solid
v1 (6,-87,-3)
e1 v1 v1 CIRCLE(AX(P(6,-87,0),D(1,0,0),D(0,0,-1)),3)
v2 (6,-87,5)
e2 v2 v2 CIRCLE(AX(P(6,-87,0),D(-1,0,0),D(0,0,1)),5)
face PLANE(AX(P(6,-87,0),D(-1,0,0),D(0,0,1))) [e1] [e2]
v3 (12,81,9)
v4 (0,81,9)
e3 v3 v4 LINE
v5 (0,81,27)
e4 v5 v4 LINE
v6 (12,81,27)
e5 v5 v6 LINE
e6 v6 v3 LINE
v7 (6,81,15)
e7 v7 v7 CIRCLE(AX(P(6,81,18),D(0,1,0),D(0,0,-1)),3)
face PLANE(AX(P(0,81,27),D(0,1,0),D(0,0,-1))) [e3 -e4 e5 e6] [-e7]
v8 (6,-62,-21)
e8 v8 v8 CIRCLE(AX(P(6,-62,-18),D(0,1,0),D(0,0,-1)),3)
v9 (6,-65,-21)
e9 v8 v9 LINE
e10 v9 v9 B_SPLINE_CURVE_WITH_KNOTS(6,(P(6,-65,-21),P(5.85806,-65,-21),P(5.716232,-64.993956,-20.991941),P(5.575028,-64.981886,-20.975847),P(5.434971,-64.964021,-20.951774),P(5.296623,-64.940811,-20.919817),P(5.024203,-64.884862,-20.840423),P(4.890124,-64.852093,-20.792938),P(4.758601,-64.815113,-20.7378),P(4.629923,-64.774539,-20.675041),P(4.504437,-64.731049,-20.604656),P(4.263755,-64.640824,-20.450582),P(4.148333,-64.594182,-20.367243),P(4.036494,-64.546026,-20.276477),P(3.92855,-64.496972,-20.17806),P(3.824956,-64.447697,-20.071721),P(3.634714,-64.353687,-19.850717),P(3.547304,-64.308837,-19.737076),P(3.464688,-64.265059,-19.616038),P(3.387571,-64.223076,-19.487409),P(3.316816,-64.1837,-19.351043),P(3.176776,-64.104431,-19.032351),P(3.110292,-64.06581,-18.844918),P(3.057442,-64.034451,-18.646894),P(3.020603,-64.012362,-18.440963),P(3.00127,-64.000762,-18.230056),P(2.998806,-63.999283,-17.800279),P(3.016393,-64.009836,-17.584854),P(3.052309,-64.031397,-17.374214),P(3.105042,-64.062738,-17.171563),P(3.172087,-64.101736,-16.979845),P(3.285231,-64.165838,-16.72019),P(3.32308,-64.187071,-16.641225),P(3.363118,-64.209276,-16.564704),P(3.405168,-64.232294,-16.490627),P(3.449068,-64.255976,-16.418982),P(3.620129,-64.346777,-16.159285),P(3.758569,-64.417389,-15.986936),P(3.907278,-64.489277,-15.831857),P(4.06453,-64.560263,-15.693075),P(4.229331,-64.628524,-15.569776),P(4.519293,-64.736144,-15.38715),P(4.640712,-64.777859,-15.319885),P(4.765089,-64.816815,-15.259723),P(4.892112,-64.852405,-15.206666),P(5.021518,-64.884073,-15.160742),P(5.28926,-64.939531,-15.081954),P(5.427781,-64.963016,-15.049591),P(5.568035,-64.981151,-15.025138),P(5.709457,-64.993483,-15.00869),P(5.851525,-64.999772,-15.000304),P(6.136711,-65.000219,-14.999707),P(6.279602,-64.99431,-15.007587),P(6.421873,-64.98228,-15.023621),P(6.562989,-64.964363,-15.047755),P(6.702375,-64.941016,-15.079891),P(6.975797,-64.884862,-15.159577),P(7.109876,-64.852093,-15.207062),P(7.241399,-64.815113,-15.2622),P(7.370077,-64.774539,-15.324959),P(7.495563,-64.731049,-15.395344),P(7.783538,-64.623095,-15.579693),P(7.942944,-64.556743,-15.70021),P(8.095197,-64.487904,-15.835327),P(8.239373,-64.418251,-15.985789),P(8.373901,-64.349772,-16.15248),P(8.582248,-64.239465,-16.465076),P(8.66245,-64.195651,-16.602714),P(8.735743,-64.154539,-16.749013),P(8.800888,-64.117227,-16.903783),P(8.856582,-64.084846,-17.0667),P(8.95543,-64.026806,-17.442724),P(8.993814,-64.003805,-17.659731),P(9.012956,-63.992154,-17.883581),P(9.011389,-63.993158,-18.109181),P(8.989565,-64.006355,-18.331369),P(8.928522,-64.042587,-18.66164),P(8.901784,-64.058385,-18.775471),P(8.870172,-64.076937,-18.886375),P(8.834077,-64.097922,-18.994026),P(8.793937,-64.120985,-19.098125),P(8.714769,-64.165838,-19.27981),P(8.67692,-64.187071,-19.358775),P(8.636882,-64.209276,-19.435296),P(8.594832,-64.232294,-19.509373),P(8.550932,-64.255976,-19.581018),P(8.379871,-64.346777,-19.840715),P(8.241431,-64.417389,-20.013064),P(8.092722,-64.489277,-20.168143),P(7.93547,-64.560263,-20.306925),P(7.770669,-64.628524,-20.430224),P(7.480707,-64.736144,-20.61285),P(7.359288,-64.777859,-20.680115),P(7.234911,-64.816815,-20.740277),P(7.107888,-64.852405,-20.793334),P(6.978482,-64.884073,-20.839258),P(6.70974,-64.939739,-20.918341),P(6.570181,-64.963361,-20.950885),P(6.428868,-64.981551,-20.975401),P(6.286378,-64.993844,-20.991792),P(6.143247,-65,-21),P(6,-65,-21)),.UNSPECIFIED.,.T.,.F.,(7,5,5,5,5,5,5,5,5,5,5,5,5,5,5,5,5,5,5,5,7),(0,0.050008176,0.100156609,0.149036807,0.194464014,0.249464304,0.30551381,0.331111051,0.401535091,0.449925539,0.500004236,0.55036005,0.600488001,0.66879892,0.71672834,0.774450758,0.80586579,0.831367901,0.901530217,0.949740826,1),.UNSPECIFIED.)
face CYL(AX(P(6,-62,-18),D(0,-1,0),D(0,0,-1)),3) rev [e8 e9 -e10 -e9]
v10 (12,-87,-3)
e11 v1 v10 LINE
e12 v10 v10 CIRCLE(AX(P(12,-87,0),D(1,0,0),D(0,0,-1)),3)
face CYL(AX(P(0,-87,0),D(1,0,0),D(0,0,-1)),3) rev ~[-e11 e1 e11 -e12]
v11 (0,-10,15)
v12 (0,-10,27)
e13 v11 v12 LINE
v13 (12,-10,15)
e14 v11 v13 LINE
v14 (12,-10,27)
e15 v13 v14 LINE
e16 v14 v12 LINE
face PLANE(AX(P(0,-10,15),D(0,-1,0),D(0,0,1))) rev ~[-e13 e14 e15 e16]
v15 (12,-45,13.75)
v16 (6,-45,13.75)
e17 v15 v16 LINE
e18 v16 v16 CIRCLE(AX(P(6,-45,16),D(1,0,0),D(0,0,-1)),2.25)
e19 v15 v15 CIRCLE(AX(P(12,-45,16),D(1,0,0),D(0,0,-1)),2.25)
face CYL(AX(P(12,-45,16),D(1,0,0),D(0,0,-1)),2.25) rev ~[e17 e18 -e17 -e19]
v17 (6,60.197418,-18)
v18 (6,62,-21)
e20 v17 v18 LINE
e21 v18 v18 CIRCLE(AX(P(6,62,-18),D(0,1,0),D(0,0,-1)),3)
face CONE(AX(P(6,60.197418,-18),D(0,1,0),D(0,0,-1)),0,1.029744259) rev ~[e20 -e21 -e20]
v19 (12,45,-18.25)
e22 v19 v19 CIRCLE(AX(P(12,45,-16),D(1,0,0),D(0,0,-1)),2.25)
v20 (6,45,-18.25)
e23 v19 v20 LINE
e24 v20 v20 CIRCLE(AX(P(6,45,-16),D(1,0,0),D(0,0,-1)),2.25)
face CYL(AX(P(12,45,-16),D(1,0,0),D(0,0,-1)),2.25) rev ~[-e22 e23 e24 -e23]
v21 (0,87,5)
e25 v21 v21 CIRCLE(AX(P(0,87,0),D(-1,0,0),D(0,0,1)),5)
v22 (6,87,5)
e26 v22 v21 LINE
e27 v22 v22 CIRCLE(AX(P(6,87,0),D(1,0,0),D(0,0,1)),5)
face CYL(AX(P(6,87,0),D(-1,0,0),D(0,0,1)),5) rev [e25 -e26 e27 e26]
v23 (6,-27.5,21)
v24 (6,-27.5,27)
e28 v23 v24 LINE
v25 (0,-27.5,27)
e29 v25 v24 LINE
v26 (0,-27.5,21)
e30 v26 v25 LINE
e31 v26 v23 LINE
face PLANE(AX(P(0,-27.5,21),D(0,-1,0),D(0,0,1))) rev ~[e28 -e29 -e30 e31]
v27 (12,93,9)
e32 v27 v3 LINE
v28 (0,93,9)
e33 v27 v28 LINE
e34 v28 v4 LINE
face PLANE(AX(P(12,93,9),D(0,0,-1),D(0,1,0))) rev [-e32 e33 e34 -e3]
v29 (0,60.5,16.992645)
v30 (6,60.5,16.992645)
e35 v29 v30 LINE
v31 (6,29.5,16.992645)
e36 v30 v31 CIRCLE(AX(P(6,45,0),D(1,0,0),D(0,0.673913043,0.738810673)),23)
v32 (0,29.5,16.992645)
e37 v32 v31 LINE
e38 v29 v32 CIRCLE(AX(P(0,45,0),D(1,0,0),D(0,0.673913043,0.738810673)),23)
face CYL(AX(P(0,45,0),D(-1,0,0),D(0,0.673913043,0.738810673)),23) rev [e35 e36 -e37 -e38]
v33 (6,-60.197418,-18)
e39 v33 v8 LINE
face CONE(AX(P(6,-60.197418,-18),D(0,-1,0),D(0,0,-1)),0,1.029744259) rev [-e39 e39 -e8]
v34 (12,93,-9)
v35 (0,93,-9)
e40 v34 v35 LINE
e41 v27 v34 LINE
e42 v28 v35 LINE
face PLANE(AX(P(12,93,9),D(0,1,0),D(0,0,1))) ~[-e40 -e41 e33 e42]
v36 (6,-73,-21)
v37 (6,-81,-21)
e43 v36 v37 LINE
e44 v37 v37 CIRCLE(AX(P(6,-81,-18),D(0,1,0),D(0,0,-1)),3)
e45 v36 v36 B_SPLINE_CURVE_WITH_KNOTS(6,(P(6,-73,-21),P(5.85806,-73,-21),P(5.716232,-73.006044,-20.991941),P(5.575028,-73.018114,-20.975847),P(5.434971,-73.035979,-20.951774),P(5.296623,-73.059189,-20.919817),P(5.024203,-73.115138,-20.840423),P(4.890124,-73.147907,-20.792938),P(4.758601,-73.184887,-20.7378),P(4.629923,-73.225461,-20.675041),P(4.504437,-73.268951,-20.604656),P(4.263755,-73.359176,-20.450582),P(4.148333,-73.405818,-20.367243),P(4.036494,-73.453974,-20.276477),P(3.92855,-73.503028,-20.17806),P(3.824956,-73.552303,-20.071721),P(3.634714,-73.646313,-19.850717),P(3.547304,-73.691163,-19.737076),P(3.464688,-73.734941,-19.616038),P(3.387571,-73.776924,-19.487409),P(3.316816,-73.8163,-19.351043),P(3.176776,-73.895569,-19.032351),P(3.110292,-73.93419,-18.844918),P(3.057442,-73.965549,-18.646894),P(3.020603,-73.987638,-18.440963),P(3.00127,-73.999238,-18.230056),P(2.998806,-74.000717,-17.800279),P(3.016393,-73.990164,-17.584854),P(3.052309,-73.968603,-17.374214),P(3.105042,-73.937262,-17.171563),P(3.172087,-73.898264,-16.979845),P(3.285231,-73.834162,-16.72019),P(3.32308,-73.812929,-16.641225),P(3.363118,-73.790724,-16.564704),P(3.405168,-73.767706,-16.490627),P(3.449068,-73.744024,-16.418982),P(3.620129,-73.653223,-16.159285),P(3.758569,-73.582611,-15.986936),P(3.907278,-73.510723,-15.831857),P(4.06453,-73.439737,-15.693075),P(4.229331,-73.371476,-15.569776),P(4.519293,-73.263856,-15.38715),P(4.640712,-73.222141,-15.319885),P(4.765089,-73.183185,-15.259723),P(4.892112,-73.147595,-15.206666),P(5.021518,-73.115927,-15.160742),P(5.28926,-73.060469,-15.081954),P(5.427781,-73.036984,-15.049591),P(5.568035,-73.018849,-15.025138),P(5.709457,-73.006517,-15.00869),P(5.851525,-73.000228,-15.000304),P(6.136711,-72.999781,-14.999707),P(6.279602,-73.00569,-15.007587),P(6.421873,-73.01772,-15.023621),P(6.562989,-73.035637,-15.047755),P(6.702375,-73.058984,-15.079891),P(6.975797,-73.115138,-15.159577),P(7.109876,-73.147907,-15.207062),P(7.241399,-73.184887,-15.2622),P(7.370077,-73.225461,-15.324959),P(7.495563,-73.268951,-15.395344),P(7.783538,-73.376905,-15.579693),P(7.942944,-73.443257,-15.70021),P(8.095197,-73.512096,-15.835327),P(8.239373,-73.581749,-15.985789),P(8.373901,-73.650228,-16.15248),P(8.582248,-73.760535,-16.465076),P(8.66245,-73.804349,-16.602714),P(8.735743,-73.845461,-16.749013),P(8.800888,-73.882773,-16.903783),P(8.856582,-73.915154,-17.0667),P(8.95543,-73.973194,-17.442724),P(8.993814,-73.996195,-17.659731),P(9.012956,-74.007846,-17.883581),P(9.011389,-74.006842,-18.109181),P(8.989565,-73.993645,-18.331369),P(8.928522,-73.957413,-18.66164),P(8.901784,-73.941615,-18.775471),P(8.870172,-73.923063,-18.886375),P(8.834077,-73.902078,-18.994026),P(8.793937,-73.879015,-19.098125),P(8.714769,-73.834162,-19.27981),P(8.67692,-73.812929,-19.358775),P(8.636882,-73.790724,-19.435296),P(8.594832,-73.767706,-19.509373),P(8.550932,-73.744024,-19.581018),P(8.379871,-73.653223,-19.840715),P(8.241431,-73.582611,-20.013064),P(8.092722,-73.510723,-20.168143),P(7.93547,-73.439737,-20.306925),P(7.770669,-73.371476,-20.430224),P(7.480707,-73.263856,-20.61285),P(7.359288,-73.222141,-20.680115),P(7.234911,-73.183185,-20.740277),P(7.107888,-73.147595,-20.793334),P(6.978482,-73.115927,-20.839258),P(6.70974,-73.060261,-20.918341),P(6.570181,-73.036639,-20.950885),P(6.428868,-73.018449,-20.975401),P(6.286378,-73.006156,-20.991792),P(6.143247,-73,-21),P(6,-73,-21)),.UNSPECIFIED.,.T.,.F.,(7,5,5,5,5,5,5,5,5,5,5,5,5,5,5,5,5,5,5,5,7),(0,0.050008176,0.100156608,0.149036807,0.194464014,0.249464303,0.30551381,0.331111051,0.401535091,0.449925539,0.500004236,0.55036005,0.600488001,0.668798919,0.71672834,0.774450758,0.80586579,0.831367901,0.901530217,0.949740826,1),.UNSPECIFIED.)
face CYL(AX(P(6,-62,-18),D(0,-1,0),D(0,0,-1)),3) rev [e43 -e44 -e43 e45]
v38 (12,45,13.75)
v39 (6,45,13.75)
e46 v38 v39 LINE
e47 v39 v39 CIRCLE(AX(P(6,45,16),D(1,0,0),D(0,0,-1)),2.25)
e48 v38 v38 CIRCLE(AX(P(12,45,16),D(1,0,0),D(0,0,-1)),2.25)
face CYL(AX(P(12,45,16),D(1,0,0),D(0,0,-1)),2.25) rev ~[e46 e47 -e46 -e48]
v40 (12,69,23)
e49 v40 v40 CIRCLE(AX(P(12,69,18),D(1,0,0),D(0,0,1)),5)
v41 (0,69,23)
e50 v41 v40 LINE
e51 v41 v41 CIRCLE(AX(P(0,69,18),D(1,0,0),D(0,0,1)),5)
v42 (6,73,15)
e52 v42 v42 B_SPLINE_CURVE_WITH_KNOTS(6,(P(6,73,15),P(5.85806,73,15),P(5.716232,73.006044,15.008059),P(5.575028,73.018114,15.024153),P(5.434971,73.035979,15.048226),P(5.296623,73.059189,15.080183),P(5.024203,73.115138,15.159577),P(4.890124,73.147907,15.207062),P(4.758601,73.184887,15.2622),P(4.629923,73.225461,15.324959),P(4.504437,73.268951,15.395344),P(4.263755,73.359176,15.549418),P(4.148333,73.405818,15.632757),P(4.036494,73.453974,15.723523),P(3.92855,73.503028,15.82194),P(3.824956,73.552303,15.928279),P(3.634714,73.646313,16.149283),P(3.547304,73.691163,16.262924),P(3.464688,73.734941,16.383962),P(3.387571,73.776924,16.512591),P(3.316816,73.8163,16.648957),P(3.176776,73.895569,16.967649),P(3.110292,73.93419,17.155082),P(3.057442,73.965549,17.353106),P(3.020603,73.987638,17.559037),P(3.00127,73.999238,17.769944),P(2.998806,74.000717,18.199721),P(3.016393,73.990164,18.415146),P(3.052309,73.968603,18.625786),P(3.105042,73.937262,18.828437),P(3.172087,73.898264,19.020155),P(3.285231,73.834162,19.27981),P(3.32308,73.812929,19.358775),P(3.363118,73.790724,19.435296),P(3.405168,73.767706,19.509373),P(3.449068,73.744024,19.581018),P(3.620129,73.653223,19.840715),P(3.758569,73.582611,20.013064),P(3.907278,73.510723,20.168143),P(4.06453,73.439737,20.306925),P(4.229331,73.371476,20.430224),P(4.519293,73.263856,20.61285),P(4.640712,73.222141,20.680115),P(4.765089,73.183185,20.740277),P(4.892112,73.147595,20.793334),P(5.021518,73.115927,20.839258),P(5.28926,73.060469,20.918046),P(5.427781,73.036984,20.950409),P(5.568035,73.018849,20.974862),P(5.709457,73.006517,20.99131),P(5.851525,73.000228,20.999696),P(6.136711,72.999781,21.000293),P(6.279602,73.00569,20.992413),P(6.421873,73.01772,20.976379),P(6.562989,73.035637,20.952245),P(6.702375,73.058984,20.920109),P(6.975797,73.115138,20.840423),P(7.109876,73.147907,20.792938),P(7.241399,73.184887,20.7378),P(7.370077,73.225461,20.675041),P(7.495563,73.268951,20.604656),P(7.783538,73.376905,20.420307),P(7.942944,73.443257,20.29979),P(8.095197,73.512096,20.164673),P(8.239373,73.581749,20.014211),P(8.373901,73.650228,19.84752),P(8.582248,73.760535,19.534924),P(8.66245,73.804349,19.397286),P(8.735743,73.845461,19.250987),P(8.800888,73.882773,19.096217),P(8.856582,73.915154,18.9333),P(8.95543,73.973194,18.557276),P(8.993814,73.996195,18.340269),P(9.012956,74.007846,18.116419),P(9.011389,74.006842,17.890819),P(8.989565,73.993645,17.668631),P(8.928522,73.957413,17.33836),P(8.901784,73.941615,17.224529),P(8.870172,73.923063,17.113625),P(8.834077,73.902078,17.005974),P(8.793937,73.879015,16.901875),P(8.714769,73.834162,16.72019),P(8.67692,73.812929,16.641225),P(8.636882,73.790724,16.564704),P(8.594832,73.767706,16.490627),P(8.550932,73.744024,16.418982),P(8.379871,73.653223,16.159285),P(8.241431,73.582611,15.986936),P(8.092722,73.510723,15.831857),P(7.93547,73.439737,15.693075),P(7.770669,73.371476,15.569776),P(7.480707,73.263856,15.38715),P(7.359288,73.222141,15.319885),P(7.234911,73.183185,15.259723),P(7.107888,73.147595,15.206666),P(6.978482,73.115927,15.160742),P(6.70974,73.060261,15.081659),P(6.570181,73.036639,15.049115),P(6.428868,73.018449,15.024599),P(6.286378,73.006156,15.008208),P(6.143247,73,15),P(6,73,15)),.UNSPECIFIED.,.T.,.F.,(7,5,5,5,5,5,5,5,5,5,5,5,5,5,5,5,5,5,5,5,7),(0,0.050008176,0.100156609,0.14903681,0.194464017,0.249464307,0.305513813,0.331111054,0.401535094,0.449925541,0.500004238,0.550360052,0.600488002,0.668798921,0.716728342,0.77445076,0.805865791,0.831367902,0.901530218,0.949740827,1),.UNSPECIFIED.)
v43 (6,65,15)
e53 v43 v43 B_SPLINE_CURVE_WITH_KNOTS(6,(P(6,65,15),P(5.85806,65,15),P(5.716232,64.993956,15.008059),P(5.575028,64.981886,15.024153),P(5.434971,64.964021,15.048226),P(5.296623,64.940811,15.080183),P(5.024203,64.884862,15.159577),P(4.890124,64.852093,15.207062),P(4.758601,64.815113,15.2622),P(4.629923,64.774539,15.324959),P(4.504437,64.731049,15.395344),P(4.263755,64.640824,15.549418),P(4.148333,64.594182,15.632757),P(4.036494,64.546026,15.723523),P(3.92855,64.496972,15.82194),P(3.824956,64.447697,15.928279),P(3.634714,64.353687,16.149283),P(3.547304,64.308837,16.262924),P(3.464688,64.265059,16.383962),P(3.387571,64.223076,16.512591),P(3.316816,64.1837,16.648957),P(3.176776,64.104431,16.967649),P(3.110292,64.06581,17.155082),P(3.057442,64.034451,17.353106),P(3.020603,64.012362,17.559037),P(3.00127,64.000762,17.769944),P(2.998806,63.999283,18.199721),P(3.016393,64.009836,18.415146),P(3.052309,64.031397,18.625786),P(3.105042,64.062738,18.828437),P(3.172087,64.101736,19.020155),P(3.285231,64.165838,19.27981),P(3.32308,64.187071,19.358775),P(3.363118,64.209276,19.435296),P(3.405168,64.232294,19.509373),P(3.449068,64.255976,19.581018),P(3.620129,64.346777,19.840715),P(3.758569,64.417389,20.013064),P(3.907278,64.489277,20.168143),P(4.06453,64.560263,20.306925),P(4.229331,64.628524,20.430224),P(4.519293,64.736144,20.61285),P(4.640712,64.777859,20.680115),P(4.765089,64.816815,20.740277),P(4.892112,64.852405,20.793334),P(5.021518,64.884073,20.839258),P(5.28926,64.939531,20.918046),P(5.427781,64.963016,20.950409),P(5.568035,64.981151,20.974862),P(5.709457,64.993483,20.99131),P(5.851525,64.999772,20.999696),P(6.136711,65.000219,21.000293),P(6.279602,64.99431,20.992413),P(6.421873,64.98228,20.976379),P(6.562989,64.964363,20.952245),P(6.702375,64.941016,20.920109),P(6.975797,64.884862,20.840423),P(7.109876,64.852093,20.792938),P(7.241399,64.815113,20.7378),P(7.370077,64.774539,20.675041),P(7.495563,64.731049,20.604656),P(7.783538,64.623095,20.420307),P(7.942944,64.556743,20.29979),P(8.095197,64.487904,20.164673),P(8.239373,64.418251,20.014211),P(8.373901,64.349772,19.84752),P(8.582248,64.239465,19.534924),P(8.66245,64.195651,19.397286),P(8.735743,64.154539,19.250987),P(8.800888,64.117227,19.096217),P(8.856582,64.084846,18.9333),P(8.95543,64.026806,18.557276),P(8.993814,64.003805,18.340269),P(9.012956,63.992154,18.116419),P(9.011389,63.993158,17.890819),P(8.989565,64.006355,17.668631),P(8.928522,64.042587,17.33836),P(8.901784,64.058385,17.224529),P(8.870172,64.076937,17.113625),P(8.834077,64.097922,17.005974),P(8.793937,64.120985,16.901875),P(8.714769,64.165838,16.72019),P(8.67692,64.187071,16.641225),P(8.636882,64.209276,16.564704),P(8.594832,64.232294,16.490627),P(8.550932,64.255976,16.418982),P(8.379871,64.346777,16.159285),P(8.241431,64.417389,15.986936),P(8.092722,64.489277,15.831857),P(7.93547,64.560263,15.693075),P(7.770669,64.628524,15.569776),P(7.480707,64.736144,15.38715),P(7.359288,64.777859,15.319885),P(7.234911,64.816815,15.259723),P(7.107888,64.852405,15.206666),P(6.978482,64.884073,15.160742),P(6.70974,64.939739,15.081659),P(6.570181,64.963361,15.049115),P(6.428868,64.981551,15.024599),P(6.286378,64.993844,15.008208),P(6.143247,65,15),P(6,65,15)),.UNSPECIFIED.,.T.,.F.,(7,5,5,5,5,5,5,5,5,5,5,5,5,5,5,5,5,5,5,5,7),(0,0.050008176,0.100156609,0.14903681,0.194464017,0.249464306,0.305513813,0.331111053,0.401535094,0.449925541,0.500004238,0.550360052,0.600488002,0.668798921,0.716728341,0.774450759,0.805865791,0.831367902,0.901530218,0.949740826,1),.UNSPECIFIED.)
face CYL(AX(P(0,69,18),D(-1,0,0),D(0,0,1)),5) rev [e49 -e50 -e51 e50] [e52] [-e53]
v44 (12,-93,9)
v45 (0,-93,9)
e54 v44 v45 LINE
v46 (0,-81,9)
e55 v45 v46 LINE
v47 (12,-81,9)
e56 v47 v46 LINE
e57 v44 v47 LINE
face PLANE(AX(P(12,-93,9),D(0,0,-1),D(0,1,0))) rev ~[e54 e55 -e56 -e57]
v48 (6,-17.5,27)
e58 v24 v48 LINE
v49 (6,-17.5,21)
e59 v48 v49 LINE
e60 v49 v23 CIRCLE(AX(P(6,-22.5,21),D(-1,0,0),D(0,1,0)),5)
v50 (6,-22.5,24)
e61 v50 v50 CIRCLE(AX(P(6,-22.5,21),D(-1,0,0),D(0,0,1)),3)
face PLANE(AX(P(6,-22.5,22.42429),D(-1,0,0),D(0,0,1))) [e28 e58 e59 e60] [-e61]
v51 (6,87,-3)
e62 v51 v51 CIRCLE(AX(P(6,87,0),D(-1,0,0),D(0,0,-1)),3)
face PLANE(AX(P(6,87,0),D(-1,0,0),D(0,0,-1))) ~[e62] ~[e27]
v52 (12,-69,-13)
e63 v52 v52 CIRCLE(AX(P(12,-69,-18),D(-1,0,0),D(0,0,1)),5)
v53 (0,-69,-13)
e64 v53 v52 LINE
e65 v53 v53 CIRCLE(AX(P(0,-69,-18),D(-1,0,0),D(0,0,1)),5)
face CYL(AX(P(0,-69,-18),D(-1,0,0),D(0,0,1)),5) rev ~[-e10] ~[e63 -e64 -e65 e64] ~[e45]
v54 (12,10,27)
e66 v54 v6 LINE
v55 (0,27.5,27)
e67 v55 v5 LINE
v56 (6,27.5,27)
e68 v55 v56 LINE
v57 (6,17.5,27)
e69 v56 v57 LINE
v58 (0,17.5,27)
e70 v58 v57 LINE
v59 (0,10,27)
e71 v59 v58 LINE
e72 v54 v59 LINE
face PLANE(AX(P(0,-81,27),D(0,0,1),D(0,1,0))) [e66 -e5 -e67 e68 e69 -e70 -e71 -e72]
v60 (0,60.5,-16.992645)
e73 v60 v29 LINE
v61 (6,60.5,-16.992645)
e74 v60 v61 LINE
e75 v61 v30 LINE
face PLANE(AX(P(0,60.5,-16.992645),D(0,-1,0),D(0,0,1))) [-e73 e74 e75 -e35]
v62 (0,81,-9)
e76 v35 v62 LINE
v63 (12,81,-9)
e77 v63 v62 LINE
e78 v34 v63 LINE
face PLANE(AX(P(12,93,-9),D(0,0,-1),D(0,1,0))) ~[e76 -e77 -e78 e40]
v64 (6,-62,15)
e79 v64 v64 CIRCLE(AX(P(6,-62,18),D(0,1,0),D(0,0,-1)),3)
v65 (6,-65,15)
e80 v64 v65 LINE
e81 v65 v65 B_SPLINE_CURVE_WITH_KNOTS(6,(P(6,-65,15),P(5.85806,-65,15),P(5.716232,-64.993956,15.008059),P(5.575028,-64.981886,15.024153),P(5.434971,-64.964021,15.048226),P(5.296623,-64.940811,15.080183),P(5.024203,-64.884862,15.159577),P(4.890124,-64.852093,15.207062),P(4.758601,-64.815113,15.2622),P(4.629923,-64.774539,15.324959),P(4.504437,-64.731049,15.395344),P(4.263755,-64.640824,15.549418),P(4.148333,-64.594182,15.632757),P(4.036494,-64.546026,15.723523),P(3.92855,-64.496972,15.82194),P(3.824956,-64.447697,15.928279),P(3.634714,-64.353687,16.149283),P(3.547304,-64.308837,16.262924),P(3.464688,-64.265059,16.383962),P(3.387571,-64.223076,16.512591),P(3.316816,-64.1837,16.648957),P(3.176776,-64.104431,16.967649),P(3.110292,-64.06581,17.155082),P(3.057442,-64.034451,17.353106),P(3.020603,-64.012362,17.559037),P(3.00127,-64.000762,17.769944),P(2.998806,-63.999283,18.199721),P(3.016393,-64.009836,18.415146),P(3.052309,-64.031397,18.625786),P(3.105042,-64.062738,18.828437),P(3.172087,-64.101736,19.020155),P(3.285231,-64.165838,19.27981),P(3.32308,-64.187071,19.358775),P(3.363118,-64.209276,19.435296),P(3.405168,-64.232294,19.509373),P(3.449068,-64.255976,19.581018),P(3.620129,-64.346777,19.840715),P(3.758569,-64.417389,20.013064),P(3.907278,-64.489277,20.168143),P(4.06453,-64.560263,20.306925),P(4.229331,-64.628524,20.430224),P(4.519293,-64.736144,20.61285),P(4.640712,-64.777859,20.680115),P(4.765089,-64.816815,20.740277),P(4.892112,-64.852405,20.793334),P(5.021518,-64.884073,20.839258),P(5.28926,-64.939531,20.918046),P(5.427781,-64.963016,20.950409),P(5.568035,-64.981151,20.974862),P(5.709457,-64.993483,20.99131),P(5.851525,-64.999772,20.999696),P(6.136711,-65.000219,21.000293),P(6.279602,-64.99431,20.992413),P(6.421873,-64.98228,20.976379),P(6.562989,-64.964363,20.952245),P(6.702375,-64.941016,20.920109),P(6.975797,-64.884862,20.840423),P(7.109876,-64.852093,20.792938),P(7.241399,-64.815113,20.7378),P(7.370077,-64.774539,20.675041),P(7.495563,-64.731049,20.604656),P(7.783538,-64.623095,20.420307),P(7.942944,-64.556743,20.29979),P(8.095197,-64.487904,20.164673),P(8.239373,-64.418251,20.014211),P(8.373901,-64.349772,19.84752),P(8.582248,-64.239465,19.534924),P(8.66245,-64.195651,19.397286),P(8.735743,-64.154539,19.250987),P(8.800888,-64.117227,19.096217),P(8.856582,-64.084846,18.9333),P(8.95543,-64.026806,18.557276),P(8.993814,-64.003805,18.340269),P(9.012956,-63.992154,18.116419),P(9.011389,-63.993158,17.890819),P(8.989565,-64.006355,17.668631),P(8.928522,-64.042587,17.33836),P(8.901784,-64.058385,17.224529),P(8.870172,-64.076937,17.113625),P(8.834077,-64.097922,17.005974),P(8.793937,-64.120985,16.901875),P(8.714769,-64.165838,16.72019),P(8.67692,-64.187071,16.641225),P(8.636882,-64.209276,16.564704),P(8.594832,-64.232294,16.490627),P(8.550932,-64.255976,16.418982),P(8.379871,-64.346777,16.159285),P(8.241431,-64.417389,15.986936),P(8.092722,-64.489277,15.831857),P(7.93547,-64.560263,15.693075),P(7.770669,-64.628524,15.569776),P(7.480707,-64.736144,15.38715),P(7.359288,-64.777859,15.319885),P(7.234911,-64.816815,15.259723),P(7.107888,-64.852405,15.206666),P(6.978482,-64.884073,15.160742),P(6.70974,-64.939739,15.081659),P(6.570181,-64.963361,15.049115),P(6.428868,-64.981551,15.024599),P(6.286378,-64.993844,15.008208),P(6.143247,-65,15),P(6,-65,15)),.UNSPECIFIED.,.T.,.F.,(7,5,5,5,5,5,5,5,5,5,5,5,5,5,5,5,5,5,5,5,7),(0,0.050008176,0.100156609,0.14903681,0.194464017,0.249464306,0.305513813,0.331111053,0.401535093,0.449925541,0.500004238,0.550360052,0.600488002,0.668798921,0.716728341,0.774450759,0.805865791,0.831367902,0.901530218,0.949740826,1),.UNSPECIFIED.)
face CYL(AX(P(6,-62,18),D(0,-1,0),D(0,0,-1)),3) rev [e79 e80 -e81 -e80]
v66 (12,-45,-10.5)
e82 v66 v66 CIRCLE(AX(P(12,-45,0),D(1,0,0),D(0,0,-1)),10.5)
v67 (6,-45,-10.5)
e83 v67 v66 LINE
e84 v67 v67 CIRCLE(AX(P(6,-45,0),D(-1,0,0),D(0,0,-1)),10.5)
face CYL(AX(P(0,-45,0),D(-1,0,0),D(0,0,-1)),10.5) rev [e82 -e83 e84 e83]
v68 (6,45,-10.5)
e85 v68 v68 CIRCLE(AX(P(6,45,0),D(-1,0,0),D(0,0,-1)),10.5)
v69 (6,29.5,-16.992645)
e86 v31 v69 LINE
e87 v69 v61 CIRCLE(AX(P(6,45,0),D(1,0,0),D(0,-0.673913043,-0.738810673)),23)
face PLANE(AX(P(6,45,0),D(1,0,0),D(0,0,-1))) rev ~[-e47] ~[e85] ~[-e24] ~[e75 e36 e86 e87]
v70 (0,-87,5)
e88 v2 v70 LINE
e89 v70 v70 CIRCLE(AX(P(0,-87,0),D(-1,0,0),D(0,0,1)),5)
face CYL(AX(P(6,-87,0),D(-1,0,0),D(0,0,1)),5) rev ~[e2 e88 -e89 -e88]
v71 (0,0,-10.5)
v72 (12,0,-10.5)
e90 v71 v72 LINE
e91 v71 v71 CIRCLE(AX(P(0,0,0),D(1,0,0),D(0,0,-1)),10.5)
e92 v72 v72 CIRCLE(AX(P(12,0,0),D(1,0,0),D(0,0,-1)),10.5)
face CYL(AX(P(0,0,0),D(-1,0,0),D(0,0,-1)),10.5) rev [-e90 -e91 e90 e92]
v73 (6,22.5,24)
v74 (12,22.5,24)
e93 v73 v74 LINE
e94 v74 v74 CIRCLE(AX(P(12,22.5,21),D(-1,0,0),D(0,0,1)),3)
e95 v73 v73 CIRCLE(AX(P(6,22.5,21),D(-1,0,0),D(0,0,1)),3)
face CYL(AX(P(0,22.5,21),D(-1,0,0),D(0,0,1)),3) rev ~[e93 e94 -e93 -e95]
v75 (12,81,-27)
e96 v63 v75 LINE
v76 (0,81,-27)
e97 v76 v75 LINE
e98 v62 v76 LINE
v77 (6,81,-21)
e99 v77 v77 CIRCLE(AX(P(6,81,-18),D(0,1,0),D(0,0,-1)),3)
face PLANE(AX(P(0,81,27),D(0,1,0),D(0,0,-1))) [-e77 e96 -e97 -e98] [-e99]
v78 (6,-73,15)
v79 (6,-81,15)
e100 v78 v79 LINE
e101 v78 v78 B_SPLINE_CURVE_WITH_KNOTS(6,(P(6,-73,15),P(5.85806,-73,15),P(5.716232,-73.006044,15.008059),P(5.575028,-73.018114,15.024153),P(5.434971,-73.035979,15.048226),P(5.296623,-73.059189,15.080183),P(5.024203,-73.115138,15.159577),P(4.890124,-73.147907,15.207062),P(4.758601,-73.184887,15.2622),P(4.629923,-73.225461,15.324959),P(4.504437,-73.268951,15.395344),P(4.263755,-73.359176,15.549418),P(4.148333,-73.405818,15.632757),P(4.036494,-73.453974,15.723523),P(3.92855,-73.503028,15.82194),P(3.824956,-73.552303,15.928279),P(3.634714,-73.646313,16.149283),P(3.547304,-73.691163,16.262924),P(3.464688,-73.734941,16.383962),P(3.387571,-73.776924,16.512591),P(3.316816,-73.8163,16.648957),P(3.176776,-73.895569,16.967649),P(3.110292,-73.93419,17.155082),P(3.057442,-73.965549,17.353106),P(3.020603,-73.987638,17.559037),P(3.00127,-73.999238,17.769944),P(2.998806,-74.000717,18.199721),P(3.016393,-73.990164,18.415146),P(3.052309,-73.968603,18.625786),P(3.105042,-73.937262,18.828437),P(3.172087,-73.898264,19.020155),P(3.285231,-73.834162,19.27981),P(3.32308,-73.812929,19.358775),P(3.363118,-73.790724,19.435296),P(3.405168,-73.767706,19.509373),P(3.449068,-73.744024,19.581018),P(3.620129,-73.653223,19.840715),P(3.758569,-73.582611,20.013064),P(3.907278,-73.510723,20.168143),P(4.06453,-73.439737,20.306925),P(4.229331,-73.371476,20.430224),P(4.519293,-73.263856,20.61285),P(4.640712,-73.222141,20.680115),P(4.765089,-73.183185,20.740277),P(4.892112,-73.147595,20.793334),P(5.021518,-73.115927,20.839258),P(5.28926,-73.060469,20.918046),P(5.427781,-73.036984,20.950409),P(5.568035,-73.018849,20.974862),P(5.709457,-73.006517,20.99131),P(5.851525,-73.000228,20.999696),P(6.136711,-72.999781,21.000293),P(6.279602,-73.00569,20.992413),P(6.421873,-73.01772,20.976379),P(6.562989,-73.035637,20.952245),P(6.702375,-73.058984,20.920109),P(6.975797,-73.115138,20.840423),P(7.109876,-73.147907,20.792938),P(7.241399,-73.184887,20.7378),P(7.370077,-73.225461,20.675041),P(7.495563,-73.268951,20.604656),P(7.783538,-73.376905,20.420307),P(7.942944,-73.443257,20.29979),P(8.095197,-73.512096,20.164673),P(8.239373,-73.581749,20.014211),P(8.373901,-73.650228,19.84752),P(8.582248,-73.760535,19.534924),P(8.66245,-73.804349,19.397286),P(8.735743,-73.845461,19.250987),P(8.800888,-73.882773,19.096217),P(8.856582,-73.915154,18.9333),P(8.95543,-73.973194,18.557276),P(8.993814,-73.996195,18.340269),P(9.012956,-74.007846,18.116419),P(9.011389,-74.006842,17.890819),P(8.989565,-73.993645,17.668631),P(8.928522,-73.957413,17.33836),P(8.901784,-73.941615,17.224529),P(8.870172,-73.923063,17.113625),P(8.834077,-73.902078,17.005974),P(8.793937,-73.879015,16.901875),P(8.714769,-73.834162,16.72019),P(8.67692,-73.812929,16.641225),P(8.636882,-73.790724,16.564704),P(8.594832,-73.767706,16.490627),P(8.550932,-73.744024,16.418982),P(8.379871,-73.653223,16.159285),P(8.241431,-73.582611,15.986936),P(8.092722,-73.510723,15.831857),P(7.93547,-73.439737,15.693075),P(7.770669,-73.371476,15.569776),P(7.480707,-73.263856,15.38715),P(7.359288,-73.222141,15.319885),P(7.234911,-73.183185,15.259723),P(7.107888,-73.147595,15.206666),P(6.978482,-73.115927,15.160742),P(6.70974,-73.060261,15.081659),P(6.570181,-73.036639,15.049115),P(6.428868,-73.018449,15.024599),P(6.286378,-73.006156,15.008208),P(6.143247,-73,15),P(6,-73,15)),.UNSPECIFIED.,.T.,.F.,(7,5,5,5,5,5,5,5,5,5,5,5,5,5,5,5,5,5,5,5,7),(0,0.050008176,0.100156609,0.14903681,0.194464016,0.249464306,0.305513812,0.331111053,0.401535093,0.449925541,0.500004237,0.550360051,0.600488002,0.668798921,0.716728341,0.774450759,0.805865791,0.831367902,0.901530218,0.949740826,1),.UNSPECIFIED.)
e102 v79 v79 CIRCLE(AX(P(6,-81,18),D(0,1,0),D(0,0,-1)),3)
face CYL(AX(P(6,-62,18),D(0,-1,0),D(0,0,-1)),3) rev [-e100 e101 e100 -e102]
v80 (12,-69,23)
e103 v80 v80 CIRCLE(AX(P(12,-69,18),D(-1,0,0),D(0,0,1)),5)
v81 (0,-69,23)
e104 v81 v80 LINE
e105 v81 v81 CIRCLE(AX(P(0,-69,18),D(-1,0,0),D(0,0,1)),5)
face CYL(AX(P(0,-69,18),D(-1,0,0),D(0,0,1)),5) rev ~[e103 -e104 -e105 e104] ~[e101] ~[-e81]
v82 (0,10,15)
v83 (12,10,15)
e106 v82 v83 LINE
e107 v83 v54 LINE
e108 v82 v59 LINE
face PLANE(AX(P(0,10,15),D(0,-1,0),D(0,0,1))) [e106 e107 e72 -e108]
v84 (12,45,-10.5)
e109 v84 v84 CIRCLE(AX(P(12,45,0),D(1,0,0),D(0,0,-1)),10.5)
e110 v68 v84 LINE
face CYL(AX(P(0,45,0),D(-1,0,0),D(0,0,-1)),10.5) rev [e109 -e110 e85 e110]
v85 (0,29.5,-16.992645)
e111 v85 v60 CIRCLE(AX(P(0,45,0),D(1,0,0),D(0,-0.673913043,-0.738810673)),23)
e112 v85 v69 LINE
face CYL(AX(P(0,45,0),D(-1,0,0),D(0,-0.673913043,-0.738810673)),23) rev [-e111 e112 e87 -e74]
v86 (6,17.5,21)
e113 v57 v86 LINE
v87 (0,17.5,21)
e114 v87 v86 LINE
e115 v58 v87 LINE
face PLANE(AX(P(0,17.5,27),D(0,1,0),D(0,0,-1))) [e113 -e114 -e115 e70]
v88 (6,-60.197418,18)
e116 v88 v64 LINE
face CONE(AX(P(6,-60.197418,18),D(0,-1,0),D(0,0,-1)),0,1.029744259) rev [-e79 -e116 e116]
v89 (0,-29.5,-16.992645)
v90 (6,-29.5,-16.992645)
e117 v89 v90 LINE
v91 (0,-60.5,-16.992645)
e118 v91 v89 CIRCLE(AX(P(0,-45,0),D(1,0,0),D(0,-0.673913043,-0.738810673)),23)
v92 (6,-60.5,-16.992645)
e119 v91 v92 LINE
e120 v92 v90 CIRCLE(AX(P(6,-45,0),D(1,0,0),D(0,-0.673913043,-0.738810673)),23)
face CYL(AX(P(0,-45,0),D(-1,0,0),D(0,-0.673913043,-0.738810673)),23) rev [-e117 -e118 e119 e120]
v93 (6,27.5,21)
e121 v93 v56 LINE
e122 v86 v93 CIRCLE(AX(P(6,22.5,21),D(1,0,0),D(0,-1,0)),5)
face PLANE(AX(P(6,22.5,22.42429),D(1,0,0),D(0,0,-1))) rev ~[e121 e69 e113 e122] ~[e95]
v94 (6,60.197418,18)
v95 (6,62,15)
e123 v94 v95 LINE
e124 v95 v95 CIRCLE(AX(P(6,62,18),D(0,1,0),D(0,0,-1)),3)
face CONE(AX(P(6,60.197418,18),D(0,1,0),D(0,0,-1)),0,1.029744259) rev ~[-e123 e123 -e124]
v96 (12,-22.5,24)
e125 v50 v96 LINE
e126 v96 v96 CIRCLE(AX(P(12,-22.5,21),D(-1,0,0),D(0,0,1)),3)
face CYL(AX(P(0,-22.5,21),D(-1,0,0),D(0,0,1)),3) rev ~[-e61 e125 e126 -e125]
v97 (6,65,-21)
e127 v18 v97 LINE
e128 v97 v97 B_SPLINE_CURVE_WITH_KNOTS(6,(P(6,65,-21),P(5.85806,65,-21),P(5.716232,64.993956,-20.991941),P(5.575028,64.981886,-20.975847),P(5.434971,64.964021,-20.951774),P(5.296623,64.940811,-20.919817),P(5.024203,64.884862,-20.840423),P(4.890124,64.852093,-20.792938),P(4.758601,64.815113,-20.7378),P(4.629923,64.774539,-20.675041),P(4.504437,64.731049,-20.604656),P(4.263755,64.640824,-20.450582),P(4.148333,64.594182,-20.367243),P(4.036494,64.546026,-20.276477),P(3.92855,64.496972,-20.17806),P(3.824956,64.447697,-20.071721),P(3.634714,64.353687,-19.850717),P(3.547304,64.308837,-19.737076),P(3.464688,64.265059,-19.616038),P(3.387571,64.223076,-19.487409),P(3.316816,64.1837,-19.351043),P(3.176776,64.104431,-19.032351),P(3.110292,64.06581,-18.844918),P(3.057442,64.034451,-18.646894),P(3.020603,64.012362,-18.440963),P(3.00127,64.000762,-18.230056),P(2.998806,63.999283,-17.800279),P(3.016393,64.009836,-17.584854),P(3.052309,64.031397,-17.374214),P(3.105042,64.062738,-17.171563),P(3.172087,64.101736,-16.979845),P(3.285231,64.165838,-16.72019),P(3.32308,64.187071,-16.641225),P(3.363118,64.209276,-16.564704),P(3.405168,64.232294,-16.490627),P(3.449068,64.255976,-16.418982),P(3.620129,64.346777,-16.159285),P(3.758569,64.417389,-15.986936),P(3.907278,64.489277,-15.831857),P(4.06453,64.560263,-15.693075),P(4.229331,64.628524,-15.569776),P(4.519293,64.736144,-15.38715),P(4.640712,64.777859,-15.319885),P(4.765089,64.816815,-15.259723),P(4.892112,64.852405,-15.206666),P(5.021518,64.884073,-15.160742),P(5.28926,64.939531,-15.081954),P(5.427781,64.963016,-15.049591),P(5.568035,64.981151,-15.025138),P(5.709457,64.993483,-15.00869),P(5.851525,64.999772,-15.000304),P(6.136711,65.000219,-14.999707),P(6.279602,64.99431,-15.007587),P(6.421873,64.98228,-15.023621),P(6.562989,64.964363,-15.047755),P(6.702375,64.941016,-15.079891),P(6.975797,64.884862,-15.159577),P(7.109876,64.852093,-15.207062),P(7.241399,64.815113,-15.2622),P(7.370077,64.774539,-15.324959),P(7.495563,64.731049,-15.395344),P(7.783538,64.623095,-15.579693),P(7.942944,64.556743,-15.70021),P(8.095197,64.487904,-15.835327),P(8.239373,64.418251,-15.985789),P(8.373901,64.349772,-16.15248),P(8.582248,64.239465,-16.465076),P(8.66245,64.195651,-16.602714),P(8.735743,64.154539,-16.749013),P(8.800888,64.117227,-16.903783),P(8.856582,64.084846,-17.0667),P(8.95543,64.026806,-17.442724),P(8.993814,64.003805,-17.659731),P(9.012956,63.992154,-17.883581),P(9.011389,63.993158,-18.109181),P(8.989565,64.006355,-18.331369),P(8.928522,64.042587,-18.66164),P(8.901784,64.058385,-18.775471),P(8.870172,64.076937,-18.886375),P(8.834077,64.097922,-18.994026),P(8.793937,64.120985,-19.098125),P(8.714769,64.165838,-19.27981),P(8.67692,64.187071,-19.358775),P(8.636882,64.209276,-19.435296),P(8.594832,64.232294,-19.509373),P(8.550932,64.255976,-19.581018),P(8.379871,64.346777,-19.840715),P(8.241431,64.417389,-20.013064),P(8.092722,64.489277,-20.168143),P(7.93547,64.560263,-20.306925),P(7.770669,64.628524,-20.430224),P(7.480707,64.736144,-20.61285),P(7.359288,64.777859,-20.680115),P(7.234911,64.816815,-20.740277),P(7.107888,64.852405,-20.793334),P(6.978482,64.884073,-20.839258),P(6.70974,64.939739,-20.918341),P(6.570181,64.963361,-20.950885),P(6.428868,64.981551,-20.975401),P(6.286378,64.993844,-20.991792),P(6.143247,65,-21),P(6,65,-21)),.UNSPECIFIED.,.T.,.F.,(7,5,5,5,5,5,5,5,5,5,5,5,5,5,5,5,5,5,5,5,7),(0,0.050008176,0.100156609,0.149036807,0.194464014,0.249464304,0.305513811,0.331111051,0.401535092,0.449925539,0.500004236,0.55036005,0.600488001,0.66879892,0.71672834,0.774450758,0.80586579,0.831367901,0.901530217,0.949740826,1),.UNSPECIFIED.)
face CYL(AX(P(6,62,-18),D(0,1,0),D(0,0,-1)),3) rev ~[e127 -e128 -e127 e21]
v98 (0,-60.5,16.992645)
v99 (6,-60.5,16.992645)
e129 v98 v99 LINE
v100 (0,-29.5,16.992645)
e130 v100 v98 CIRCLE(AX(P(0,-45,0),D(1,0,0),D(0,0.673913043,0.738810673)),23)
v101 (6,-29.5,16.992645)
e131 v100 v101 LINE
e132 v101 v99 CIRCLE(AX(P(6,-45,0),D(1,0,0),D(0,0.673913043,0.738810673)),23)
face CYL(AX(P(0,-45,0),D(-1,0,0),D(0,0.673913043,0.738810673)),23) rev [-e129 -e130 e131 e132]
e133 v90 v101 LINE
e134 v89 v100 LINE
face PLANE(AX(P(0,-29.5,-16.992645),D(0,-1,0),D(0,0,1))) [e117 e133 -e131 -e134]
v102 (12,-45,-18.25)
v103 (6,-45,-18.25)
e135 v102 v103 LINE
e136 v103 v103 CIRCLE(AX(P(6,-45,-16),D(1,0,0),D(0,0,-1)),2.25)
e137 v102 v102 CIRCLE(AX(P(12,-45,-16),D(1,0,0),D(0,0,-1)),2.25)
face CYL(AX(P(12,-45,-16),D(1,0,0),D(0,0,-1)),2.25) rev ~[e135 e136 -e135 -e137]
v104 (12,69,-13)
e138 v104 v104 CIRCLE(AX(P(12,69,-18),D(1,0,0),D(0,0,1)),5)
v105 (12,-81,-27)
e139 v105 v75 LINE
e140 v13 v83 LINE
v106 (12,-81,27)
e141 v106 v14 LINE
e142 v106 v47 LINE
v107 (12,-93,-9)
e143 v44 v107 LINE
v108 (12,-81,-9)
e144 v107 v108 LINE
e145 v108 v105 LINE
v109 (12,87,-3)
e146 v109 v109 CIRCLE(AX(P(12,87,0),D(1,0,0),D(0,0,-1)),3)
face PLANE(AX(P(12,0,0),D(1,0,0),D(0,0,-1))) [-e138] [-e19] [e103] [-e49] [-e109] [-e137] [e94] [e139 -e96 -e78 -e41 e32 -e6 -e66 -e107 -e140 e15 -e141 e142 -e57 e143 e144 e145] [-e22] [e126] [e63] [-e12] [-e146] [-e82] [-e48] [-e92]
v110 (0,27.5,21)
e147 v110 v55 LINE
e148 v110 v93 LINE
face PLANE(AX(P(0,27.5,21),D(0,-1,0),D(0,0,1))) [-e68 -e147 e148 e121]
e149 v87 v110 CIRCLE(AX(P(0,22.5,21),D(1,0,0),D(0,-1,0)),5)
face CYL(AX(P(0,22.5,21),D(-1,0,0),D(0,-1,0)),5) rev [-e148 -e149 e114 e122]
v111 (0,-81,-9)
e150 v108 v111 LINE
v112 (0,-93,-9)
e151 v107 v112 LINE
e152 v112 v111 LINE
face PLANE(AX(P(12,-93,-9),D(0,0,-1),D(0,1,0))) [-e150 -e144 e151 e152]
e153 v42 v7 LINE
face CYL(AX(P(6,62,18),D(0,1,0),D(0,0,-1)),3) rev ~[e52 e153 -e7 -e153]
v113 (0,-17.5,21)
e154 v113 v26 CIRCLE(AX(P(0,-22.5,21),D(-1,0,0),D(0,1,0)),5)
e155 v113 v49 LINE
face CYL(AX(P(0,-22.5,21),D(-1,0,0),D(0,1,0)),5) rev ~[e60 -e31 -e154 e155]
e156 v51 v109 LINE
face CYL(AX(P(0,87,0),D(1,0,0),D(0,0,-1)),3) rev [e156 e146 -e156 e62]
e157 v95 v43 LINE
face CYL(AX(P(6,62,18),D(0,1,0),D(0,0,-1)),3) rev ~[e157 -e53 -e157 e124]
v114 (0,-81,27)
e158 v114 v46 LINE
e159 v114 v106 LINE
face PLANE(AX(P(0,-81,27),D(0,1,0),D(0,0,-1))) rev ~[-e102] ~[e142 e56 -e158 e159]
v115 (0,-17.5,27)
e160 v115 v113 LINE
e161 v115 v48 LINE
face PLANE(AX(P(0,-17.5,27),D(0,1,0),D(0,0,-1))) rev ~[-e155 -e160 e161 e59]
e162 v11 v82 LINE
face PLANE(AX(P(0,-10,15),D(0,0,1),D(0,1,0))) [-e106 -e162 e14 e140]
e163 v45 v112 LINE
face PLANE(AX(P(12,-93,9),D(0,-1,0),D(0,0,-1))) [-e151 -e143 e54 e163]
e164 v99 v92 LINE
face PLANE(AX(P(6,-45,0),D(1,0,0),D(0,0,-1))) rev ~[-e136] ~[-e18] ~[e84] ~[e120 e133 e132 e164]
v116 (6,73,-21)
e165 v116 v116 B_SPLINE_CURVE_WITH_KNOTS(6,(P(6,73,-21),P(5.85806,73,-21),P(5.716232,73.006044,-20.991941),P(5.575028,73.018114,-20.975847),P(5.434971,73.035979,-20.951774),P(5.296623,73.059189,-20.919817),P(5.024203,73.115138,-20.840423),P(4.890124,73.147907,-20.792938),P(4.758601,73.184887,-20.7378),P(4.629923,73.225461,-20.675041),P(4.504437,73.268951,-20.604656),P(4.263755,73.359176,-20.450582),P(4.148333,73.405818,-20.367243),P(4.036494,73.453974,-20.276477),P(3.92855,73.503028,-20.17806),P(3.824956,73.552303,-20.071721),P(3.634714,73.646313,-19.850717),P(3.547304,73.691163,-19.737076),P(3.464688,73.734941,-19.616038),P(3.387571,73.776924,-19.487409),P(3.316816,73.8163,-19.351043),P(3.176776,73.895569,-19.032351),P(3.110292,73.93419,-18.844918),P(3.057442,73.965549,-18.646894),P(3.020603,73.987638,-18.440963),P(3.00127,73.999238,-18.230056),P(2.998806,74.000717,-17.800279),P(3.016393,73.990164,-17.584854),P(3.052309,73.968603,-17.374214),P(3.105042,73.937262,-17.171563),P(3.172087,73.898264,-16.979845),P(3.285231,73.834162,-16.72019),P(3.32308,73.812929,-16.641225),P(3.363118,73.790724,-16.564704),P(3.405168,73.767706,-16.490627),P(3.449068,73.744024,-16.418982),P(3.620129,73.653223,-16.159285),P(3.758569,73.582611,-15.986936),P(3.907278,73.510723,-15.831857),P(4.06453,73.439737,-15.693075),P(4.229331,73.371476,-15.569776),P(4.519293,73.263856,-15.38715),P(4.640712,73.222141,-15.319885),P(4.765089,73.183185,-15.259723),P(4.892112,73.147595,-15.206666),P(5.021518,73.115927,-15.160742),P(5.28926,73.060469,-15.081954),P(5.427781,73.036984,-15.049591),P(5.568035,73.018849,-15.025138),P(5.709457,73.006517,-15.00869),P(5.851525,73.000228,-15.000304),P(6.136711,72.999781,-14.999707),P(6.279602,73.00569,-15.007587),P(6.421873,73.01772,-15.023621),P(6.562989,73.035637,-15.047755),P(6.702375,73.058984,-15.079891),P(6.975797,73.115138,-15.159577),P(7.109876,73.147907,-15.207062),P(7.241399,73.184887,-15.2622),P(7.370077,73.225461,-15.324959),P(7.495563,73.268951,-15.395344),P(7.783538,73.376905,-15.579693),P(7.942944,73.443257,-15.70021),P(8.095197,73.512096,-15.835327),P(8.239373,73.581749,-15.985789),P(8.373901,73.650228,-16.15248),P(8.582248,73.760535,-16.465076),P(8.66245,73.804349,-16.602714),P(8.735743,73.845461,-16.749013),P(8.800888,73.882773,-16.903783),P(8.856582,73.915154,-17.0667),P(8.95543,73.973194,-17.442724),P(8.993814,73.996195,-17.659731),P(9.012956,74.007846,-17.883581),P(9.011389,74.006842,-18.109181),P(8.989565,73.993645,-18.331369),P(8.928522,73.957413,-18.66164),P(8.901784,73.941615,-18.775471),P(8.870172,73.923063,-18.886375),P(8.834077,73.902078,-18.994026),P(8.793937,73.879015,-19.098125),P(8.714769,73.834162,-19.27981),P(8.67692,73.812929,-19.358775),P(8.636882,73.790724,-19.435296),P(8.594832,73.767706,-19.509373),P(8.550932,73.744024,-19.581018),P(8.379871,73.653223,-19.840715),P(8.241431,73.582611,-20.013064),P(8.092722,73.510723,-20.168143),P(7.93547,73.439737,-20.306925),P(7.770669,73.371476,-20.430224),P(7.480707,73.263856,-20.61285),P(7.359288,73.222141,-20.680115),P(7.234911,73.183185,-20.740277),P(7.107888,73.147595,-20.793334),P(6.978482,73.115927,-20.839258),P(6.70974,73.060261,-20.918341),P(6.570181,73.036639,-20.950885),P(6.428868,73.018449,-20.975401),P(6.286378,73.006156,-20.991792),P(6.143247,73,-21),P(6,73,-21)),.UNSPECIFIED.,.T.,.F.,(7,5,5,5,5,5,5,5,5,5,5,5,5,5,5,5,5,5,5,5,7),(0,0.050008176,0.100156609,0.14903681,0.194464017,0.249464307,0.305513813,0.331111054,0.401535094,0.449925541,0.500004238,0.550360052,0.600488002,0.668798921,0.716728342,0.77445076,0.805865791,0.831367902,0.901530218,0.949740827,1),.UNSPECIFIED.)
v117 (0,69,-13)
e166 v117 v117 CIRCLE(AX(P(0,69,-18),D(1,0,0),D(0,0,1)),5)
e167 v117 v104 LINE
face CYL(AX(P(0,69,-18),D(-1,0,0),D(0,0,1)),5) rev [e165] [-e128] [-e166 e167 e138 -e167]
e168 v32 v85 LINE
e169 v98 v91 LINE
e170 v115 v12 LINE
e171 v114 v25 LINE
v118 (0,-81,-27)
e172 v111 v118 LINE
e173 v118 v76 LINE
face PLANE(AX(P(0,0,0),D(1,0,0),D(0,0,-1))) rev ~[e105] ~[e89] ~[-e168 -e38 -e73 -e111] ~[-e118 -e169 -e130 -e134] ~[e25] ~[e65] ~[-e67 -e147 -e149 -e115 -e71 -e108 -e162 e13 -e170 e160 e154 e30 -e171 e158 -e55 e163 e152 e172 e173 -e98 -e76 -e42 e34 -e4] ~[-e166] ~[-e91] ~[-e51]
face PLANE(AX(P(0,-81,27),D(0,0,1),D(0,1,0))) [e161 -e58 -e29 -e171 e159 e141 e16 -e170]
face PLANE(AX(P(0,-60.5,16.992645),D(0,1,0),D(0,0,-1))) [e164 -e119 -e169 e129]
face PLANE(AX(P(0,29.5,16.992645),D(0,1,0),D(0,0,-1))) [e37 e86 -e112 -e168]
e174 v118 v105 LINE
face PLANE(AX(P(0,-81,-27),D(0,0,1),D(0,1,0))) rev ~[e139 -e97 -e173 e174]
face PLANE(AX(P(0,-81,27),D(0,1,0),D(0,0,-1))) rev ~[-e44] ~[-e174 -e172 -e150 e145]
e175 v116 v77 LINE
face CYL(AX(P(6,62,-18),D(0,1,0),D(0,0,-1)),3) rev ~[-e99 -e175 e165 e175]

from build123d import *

# Parameters (mm, degrees)
SKETCH2_W                         = 54
SKETCH2_H                         = 162
SKETCH2_R                         = 10.5
BOSS_EXTRUDE1_DEPTH               = 12
SKETCH3_W                         = 18
SKETCH3_H                         = 12
BOSS_EXTRUDE2_DEPTH               = 12
CUT_EXTRUDE1_REACH                = 99.581
SKETCH4_R                         = 2.25
LPATTERN1_COUNT                   = 2
LPATTERN1_PITCH                   = 90
CUT_EXTRUDE2_DEPTH                = 6
CUT_EXTRUDE3_REACH                = 99.581
SKETCH6_W                         = 24
SKETCH6_H                         = 20
CUT_EXTRUDE4_REACH                = 99.581
SKETCH7_R                         = 3
CUT_EXTRUDE5_DEPTH                = 6
CUT_EXTRUDE6_REACH                = 99.581
SKETCH9_R                         = 5
HOLE1_D                           = 6
HOLE1_CBORE_D                     = 10
HOLE1_CBORE_DEPTH                 = 6
F_6_0_6_DIAMETER_HOLE1_AT_2_COUNT = 2
F_6_0_6_DIAMETER_HOLE1_AT_2_PITCH = 36


with BuildPart() as part:
    # Sketch2 → Boss-Extrude1 (new body)
    with BuildSketch(Plane(origin=(0, 0, 0), x_dir=(0, 0, -1), z_dir=(1, 0, 0))):
        Rectangle(SKETCH2_W, SKETCH2_H)
        Circle(SKETCH2_R, mode=Mode.SUBTRACT)
        with Locations((0, 45)):
            Circle(SKETCH2_R, mode=Mode.SUBTRACT)
        with Locations((0, -45)):
            Circle(SKETCH2_R, mode=Mode.SUBTRACT)
    extrude(amount=BOSS_EXTRUDE1_DEPTH)

    # Sketch3 → Boss-Extrude2 (add)
    with BuildSketch(Plane(origin=(12, 0, 0), x_dir=(0, 0, -1), z_dir=(1, 0, 0))):
        with Locations((0, -87)):
            Rectangle(SKETCH3_W, SKETCH3_H)
    boss_extrude2 = extrude(amount=-BOSS_EXTRUDE2_DEPTH)

    # Mirror1: Boss-Extrude2 across plane
    add(boss_extrude2.mirror(Plane.ZX))

    # Sketch4 → Cut-Extrude1 (cut, up to next)
    with BuildSketch(Plane(origin=(12, 0, 0), x_dir=(0, 0, -1), z_dir=(1, 0, 0)), mode=Mode.PRIVATE) as cut_extrude1_sk1:
        with Locations((-16, -45)):
            Circle(SKETCH4_R)
    cut_extrude1_tool1 = extrude(cut_extrude1_sk1.sketch, amount=-CUT_EXTRUDE1_REACH, mode=Mode.PRIVATE) & part.part
    # Sketch4 → Cut-Extrude1 (cut, up to next)
    with BuildSketch(Plane(origin=(12, 0, 0), x_dir=(0, 0, -1), z_dir=(1, 0, 0)), mode=Mode.PRIVATE) as cut_extrude1_sk2:
        with Locations((16, -45)):
            Circle(SKETCH4_R)
    cut_extrude1_tool2 = extrude(cut_extrude1_sk2.sketch, amount=-CUT_EXTRUDE1_REACH, mode=Mode.PRIVATE) & part.part
    cut_extrude1_1 = cut_extrude1_tool1.solids().sort_by_distance((12, -45, 16))[0]
    add(cut_extrude1_1, mode=Mode.SUBTRACT)
    cut_extrude1_2 = cut_extrude1_tool2.solids().sort_by_distance((12, -45, -16))[0]
    add(cut_extrude1_2, mode=Mode.SUBTRACT)
    cut_extrude1 = cut_extrude1_1 + cut_extrude1_2  # Cut-Extrude1 as one shape, for the pattern or mirror that repeats it

    # LPattern1: Cut-Extrude1 ×2
    with Locations(*[(0, i * LPATTERN1_PITCH, 0) for i in range(1, LPATTERN1_COUNT)]):
        add(cut_extrude1, mode=Mode.SUBTRACT)

    # Sketch5 → Cut-Extrude2 (cut)
    with BuildSketch(Plane.ZY):
        with BuildLine():
            Line((-16.992645468, 60.5), (16.992645468, 60.5))
            ThreePointArc((16.992645468, 60.5), (23, 45), (16.992645468, 29.5))
            Line((16.992645468, 29.5), (-16.992645468, 29.5))
            ThreePointArc((-16.992645468, 29.5), (-23, 45), (-16.992645468, 60.5))
        make_face()
        with BuildLine():
            Line((-16.992645468, -29.5), (16.992645468, -29.5))
            ThreePointArc((16.992645468, -29.5), (23, -45), (16.992645468, -60.5))
            Line((16.992645468, -60.5), (-16.992645468, -60.5))
            ThreePointArc((-16.992645468, -60.5), (-23, -45), (-16.992645468, -29.5))
        make_face()
    extrude(amount=-CUT_EXTRUDE2_DEPTH, mode=Mode.SUBTRACT)

    # Sketch6 → Cut-Extrude3 (cut, up to next)
    with BuildSketch(Plane.ZY, mode=Mode.PRIVATE) as cut_extrude3_sk1:
        with Locations((27, 0)):
            Rectangle(SKETCH6_W, SKETCH6_H)
    cut_extrude3_tool1 = extrude(cut_extrude3_sk1.sketch, amount=-CUT_EXTRUDE3_REACH, mode=Mode.PRIVATE) & part.part
    add(cut_extrude3_tool1.solids().sort_by_distance((0, 0, 27))[0], mode=Mode.SUBTRACT)

    # Sketch7 → Cut-Extrude4 (cut, up to next)
    with BuildSketch(Plane.ZY, mode=Mode.PRIVATE) as cut_extrude4_sk1:
        with Locations((21, 22.5)):
            Circle(SKETCH7_R)
    cut_extrude4_tool1 = extrude(cut_extrude4_sk1.sketch, amount=-CUT_EXTRUDE4_REACH, mode=Mode.PRIVATE) & part.part
    # Sketch7 → Cut-Extrude4 (cut, up to next)
    with BuildSketch(Plane.ZY, mode=Mode.PRIVATE) as cut_extrude4_sk2:
        with Locations((21, -22.5)):
            Circle(SKETCH7_R)
    cut_extrude4_tool2 = extrude(cut_extrude4_sk2.sketch, amount=-CUT_EXTRUDE4_REACH, mode=Mode.PRIVATE) & part.part
    add(cut_extrude4_tool1.solids().sort_by_distance((0, 22.5, 21))[0], mode=Mode.SUBTRACT)
    add(cut_extrude4_tool2.solids().sort_by_distance((0, -22.5, 21))[0], mode=Mode.SUBTRACT)

    # Sketch8 → Cut-Extrude5 (cut)
    with BuildSketch(Plane.ZY):
        with BuildLine():
            Line((21, 27.5), (27, 27.5))
            Line((27, 27.5), (27, 17.5))
            Line((27, 17.5), (21, 17.5))
            ThreePointArc((21, 17.5), (16, 22.5), (21, 27.5))
        make_face()
        with BuildLine():
            Line((21, -27.5), (27, -27.5))
            Line((27, -27.5), (27, -17.5))
            Line((27, -17.5), (21, -17.5))
            ThreePointArc((21, -17.5), (16, -22.5), (21, -27.5))
        make_face()
    extrude(amount=-CUT_EXTRUDE5_DEPTH, mode=Mode.SUBTRACT)

    # Sketch9 → Cut-Extrude6 (cut, up to next)
    with BuildSketch(Plane.ZY, mode=Mode.PRIVATE) as cut_extrude6_sk1:
        with Locations((-18, -69)):
            Circle(SKETCH9_R)
    cut_extrude6_tool1 = extrude(cut_extrude6_sk1.sketch, amount=-CUT_EXTRUDE6_REACH, mode=Mode.PRIVATE) & part.part
    # Sketch9 → Cut-Extrude6 (cut, up to next)
    with BuildSketch(Plane.ZY, mode=Mode.PRIVATE) as cut_extrude6_sk2:
        with Locations((18, -69)):
            Circle(SKETCH9_R)
    cut_extrude6_tool2 = extrude(cut_extrude6_sk2.sketch, amount=-CUT_EXTRUDE6_REACH, mode=Mode.PRIVATE) & part.part
    cut_extrude6_1 = cut_extrude6_tool1.solids().sort_by_distance((0, -69, -18))[0]
    add(cut_extrude6_1, mode=Mode.SUBTRACT)
    cut_extrude6_2 = cut_extrude6_tool2.solids().sort_by_distance((0, -69, 18))[0]
    add(cut_extrude6_2, mode=Mode.SUBTRACT)
    cut_extrude6 = cut_extrude6_1 + cut_extrude6_2  # Cut-Extrude6 as one shape, for the pattern or mirror that repeats it

    # Hole1 (through all)
    with Locations(Plane.ZY):
        with Locations((0, -87)):
            hole1 = CounterBoreHole(HOLE1_D / 2, HOLE1_CBORE_D / 2, HOLE1_CBORE_DEPTH)

    # Sketch13 → Ø6.0 (6) Diameter Hole1 (revolve, cut)
    with BuildSketch(Plane(origin=(6, -81, -18), x_dir=(0, 0, -1), z_dir=(1, 0, 0))):
        Polygon((0, 0), (0, 20.802581857), (3, 19), (3, 0), align=None)
    f_6_0_6_diameter_hole1 = revolve(axis=Axis((6, -87.35, -18), (0, 1, 0)), mode=Mode.SUBTRACT)

    # Ø6.0 (6) Diameter Hole1 at 2: Ø6.0 (6) Diameter Hole1 ×2
    with Locations(*[(0, 0, i * F_6_0_6_DIAMETER_HOLE1_AT_2_PITCH) for i in range(1, F_6_0_6_DIAMETER_HOLE1_AT_2_COUNT)]):
        add(f_6_0_6_diameter_hole1, mode=Mode.SUBTRACT)

    # Mirror2: Cut-Extrude6, Hole1, Ø6.0 (6) Diameter Hole1 across plane
    add(cut_extrude6.mirror(Plane.ZX), mode=Mode.SUBTRACT)
    add(hole1.mirror(Plane.ZX), mode=Mode.SUBTRACT)
    add(f_6_0_6_diameter_hole1.mirror(Plane.ZX), mode=Mode.SUBTRACT)

    # Mirror2 copy 1 sketch → Mirror2 copy 1 (revolve, cut)
    with BuildSketch(Plane(origin=(6, 81, 18), x_dir=(0, 0, -1), z_dir=(1, 0, 0))):
        Polygon((0, 0), (0, -20.802581857), (3, -19), (3, 0), align=None)
    revolve(axis=Axis((6, 87.35, 18), (0, 1, 0)), mode=Mode.SUBTRACT)


solid = part.part
